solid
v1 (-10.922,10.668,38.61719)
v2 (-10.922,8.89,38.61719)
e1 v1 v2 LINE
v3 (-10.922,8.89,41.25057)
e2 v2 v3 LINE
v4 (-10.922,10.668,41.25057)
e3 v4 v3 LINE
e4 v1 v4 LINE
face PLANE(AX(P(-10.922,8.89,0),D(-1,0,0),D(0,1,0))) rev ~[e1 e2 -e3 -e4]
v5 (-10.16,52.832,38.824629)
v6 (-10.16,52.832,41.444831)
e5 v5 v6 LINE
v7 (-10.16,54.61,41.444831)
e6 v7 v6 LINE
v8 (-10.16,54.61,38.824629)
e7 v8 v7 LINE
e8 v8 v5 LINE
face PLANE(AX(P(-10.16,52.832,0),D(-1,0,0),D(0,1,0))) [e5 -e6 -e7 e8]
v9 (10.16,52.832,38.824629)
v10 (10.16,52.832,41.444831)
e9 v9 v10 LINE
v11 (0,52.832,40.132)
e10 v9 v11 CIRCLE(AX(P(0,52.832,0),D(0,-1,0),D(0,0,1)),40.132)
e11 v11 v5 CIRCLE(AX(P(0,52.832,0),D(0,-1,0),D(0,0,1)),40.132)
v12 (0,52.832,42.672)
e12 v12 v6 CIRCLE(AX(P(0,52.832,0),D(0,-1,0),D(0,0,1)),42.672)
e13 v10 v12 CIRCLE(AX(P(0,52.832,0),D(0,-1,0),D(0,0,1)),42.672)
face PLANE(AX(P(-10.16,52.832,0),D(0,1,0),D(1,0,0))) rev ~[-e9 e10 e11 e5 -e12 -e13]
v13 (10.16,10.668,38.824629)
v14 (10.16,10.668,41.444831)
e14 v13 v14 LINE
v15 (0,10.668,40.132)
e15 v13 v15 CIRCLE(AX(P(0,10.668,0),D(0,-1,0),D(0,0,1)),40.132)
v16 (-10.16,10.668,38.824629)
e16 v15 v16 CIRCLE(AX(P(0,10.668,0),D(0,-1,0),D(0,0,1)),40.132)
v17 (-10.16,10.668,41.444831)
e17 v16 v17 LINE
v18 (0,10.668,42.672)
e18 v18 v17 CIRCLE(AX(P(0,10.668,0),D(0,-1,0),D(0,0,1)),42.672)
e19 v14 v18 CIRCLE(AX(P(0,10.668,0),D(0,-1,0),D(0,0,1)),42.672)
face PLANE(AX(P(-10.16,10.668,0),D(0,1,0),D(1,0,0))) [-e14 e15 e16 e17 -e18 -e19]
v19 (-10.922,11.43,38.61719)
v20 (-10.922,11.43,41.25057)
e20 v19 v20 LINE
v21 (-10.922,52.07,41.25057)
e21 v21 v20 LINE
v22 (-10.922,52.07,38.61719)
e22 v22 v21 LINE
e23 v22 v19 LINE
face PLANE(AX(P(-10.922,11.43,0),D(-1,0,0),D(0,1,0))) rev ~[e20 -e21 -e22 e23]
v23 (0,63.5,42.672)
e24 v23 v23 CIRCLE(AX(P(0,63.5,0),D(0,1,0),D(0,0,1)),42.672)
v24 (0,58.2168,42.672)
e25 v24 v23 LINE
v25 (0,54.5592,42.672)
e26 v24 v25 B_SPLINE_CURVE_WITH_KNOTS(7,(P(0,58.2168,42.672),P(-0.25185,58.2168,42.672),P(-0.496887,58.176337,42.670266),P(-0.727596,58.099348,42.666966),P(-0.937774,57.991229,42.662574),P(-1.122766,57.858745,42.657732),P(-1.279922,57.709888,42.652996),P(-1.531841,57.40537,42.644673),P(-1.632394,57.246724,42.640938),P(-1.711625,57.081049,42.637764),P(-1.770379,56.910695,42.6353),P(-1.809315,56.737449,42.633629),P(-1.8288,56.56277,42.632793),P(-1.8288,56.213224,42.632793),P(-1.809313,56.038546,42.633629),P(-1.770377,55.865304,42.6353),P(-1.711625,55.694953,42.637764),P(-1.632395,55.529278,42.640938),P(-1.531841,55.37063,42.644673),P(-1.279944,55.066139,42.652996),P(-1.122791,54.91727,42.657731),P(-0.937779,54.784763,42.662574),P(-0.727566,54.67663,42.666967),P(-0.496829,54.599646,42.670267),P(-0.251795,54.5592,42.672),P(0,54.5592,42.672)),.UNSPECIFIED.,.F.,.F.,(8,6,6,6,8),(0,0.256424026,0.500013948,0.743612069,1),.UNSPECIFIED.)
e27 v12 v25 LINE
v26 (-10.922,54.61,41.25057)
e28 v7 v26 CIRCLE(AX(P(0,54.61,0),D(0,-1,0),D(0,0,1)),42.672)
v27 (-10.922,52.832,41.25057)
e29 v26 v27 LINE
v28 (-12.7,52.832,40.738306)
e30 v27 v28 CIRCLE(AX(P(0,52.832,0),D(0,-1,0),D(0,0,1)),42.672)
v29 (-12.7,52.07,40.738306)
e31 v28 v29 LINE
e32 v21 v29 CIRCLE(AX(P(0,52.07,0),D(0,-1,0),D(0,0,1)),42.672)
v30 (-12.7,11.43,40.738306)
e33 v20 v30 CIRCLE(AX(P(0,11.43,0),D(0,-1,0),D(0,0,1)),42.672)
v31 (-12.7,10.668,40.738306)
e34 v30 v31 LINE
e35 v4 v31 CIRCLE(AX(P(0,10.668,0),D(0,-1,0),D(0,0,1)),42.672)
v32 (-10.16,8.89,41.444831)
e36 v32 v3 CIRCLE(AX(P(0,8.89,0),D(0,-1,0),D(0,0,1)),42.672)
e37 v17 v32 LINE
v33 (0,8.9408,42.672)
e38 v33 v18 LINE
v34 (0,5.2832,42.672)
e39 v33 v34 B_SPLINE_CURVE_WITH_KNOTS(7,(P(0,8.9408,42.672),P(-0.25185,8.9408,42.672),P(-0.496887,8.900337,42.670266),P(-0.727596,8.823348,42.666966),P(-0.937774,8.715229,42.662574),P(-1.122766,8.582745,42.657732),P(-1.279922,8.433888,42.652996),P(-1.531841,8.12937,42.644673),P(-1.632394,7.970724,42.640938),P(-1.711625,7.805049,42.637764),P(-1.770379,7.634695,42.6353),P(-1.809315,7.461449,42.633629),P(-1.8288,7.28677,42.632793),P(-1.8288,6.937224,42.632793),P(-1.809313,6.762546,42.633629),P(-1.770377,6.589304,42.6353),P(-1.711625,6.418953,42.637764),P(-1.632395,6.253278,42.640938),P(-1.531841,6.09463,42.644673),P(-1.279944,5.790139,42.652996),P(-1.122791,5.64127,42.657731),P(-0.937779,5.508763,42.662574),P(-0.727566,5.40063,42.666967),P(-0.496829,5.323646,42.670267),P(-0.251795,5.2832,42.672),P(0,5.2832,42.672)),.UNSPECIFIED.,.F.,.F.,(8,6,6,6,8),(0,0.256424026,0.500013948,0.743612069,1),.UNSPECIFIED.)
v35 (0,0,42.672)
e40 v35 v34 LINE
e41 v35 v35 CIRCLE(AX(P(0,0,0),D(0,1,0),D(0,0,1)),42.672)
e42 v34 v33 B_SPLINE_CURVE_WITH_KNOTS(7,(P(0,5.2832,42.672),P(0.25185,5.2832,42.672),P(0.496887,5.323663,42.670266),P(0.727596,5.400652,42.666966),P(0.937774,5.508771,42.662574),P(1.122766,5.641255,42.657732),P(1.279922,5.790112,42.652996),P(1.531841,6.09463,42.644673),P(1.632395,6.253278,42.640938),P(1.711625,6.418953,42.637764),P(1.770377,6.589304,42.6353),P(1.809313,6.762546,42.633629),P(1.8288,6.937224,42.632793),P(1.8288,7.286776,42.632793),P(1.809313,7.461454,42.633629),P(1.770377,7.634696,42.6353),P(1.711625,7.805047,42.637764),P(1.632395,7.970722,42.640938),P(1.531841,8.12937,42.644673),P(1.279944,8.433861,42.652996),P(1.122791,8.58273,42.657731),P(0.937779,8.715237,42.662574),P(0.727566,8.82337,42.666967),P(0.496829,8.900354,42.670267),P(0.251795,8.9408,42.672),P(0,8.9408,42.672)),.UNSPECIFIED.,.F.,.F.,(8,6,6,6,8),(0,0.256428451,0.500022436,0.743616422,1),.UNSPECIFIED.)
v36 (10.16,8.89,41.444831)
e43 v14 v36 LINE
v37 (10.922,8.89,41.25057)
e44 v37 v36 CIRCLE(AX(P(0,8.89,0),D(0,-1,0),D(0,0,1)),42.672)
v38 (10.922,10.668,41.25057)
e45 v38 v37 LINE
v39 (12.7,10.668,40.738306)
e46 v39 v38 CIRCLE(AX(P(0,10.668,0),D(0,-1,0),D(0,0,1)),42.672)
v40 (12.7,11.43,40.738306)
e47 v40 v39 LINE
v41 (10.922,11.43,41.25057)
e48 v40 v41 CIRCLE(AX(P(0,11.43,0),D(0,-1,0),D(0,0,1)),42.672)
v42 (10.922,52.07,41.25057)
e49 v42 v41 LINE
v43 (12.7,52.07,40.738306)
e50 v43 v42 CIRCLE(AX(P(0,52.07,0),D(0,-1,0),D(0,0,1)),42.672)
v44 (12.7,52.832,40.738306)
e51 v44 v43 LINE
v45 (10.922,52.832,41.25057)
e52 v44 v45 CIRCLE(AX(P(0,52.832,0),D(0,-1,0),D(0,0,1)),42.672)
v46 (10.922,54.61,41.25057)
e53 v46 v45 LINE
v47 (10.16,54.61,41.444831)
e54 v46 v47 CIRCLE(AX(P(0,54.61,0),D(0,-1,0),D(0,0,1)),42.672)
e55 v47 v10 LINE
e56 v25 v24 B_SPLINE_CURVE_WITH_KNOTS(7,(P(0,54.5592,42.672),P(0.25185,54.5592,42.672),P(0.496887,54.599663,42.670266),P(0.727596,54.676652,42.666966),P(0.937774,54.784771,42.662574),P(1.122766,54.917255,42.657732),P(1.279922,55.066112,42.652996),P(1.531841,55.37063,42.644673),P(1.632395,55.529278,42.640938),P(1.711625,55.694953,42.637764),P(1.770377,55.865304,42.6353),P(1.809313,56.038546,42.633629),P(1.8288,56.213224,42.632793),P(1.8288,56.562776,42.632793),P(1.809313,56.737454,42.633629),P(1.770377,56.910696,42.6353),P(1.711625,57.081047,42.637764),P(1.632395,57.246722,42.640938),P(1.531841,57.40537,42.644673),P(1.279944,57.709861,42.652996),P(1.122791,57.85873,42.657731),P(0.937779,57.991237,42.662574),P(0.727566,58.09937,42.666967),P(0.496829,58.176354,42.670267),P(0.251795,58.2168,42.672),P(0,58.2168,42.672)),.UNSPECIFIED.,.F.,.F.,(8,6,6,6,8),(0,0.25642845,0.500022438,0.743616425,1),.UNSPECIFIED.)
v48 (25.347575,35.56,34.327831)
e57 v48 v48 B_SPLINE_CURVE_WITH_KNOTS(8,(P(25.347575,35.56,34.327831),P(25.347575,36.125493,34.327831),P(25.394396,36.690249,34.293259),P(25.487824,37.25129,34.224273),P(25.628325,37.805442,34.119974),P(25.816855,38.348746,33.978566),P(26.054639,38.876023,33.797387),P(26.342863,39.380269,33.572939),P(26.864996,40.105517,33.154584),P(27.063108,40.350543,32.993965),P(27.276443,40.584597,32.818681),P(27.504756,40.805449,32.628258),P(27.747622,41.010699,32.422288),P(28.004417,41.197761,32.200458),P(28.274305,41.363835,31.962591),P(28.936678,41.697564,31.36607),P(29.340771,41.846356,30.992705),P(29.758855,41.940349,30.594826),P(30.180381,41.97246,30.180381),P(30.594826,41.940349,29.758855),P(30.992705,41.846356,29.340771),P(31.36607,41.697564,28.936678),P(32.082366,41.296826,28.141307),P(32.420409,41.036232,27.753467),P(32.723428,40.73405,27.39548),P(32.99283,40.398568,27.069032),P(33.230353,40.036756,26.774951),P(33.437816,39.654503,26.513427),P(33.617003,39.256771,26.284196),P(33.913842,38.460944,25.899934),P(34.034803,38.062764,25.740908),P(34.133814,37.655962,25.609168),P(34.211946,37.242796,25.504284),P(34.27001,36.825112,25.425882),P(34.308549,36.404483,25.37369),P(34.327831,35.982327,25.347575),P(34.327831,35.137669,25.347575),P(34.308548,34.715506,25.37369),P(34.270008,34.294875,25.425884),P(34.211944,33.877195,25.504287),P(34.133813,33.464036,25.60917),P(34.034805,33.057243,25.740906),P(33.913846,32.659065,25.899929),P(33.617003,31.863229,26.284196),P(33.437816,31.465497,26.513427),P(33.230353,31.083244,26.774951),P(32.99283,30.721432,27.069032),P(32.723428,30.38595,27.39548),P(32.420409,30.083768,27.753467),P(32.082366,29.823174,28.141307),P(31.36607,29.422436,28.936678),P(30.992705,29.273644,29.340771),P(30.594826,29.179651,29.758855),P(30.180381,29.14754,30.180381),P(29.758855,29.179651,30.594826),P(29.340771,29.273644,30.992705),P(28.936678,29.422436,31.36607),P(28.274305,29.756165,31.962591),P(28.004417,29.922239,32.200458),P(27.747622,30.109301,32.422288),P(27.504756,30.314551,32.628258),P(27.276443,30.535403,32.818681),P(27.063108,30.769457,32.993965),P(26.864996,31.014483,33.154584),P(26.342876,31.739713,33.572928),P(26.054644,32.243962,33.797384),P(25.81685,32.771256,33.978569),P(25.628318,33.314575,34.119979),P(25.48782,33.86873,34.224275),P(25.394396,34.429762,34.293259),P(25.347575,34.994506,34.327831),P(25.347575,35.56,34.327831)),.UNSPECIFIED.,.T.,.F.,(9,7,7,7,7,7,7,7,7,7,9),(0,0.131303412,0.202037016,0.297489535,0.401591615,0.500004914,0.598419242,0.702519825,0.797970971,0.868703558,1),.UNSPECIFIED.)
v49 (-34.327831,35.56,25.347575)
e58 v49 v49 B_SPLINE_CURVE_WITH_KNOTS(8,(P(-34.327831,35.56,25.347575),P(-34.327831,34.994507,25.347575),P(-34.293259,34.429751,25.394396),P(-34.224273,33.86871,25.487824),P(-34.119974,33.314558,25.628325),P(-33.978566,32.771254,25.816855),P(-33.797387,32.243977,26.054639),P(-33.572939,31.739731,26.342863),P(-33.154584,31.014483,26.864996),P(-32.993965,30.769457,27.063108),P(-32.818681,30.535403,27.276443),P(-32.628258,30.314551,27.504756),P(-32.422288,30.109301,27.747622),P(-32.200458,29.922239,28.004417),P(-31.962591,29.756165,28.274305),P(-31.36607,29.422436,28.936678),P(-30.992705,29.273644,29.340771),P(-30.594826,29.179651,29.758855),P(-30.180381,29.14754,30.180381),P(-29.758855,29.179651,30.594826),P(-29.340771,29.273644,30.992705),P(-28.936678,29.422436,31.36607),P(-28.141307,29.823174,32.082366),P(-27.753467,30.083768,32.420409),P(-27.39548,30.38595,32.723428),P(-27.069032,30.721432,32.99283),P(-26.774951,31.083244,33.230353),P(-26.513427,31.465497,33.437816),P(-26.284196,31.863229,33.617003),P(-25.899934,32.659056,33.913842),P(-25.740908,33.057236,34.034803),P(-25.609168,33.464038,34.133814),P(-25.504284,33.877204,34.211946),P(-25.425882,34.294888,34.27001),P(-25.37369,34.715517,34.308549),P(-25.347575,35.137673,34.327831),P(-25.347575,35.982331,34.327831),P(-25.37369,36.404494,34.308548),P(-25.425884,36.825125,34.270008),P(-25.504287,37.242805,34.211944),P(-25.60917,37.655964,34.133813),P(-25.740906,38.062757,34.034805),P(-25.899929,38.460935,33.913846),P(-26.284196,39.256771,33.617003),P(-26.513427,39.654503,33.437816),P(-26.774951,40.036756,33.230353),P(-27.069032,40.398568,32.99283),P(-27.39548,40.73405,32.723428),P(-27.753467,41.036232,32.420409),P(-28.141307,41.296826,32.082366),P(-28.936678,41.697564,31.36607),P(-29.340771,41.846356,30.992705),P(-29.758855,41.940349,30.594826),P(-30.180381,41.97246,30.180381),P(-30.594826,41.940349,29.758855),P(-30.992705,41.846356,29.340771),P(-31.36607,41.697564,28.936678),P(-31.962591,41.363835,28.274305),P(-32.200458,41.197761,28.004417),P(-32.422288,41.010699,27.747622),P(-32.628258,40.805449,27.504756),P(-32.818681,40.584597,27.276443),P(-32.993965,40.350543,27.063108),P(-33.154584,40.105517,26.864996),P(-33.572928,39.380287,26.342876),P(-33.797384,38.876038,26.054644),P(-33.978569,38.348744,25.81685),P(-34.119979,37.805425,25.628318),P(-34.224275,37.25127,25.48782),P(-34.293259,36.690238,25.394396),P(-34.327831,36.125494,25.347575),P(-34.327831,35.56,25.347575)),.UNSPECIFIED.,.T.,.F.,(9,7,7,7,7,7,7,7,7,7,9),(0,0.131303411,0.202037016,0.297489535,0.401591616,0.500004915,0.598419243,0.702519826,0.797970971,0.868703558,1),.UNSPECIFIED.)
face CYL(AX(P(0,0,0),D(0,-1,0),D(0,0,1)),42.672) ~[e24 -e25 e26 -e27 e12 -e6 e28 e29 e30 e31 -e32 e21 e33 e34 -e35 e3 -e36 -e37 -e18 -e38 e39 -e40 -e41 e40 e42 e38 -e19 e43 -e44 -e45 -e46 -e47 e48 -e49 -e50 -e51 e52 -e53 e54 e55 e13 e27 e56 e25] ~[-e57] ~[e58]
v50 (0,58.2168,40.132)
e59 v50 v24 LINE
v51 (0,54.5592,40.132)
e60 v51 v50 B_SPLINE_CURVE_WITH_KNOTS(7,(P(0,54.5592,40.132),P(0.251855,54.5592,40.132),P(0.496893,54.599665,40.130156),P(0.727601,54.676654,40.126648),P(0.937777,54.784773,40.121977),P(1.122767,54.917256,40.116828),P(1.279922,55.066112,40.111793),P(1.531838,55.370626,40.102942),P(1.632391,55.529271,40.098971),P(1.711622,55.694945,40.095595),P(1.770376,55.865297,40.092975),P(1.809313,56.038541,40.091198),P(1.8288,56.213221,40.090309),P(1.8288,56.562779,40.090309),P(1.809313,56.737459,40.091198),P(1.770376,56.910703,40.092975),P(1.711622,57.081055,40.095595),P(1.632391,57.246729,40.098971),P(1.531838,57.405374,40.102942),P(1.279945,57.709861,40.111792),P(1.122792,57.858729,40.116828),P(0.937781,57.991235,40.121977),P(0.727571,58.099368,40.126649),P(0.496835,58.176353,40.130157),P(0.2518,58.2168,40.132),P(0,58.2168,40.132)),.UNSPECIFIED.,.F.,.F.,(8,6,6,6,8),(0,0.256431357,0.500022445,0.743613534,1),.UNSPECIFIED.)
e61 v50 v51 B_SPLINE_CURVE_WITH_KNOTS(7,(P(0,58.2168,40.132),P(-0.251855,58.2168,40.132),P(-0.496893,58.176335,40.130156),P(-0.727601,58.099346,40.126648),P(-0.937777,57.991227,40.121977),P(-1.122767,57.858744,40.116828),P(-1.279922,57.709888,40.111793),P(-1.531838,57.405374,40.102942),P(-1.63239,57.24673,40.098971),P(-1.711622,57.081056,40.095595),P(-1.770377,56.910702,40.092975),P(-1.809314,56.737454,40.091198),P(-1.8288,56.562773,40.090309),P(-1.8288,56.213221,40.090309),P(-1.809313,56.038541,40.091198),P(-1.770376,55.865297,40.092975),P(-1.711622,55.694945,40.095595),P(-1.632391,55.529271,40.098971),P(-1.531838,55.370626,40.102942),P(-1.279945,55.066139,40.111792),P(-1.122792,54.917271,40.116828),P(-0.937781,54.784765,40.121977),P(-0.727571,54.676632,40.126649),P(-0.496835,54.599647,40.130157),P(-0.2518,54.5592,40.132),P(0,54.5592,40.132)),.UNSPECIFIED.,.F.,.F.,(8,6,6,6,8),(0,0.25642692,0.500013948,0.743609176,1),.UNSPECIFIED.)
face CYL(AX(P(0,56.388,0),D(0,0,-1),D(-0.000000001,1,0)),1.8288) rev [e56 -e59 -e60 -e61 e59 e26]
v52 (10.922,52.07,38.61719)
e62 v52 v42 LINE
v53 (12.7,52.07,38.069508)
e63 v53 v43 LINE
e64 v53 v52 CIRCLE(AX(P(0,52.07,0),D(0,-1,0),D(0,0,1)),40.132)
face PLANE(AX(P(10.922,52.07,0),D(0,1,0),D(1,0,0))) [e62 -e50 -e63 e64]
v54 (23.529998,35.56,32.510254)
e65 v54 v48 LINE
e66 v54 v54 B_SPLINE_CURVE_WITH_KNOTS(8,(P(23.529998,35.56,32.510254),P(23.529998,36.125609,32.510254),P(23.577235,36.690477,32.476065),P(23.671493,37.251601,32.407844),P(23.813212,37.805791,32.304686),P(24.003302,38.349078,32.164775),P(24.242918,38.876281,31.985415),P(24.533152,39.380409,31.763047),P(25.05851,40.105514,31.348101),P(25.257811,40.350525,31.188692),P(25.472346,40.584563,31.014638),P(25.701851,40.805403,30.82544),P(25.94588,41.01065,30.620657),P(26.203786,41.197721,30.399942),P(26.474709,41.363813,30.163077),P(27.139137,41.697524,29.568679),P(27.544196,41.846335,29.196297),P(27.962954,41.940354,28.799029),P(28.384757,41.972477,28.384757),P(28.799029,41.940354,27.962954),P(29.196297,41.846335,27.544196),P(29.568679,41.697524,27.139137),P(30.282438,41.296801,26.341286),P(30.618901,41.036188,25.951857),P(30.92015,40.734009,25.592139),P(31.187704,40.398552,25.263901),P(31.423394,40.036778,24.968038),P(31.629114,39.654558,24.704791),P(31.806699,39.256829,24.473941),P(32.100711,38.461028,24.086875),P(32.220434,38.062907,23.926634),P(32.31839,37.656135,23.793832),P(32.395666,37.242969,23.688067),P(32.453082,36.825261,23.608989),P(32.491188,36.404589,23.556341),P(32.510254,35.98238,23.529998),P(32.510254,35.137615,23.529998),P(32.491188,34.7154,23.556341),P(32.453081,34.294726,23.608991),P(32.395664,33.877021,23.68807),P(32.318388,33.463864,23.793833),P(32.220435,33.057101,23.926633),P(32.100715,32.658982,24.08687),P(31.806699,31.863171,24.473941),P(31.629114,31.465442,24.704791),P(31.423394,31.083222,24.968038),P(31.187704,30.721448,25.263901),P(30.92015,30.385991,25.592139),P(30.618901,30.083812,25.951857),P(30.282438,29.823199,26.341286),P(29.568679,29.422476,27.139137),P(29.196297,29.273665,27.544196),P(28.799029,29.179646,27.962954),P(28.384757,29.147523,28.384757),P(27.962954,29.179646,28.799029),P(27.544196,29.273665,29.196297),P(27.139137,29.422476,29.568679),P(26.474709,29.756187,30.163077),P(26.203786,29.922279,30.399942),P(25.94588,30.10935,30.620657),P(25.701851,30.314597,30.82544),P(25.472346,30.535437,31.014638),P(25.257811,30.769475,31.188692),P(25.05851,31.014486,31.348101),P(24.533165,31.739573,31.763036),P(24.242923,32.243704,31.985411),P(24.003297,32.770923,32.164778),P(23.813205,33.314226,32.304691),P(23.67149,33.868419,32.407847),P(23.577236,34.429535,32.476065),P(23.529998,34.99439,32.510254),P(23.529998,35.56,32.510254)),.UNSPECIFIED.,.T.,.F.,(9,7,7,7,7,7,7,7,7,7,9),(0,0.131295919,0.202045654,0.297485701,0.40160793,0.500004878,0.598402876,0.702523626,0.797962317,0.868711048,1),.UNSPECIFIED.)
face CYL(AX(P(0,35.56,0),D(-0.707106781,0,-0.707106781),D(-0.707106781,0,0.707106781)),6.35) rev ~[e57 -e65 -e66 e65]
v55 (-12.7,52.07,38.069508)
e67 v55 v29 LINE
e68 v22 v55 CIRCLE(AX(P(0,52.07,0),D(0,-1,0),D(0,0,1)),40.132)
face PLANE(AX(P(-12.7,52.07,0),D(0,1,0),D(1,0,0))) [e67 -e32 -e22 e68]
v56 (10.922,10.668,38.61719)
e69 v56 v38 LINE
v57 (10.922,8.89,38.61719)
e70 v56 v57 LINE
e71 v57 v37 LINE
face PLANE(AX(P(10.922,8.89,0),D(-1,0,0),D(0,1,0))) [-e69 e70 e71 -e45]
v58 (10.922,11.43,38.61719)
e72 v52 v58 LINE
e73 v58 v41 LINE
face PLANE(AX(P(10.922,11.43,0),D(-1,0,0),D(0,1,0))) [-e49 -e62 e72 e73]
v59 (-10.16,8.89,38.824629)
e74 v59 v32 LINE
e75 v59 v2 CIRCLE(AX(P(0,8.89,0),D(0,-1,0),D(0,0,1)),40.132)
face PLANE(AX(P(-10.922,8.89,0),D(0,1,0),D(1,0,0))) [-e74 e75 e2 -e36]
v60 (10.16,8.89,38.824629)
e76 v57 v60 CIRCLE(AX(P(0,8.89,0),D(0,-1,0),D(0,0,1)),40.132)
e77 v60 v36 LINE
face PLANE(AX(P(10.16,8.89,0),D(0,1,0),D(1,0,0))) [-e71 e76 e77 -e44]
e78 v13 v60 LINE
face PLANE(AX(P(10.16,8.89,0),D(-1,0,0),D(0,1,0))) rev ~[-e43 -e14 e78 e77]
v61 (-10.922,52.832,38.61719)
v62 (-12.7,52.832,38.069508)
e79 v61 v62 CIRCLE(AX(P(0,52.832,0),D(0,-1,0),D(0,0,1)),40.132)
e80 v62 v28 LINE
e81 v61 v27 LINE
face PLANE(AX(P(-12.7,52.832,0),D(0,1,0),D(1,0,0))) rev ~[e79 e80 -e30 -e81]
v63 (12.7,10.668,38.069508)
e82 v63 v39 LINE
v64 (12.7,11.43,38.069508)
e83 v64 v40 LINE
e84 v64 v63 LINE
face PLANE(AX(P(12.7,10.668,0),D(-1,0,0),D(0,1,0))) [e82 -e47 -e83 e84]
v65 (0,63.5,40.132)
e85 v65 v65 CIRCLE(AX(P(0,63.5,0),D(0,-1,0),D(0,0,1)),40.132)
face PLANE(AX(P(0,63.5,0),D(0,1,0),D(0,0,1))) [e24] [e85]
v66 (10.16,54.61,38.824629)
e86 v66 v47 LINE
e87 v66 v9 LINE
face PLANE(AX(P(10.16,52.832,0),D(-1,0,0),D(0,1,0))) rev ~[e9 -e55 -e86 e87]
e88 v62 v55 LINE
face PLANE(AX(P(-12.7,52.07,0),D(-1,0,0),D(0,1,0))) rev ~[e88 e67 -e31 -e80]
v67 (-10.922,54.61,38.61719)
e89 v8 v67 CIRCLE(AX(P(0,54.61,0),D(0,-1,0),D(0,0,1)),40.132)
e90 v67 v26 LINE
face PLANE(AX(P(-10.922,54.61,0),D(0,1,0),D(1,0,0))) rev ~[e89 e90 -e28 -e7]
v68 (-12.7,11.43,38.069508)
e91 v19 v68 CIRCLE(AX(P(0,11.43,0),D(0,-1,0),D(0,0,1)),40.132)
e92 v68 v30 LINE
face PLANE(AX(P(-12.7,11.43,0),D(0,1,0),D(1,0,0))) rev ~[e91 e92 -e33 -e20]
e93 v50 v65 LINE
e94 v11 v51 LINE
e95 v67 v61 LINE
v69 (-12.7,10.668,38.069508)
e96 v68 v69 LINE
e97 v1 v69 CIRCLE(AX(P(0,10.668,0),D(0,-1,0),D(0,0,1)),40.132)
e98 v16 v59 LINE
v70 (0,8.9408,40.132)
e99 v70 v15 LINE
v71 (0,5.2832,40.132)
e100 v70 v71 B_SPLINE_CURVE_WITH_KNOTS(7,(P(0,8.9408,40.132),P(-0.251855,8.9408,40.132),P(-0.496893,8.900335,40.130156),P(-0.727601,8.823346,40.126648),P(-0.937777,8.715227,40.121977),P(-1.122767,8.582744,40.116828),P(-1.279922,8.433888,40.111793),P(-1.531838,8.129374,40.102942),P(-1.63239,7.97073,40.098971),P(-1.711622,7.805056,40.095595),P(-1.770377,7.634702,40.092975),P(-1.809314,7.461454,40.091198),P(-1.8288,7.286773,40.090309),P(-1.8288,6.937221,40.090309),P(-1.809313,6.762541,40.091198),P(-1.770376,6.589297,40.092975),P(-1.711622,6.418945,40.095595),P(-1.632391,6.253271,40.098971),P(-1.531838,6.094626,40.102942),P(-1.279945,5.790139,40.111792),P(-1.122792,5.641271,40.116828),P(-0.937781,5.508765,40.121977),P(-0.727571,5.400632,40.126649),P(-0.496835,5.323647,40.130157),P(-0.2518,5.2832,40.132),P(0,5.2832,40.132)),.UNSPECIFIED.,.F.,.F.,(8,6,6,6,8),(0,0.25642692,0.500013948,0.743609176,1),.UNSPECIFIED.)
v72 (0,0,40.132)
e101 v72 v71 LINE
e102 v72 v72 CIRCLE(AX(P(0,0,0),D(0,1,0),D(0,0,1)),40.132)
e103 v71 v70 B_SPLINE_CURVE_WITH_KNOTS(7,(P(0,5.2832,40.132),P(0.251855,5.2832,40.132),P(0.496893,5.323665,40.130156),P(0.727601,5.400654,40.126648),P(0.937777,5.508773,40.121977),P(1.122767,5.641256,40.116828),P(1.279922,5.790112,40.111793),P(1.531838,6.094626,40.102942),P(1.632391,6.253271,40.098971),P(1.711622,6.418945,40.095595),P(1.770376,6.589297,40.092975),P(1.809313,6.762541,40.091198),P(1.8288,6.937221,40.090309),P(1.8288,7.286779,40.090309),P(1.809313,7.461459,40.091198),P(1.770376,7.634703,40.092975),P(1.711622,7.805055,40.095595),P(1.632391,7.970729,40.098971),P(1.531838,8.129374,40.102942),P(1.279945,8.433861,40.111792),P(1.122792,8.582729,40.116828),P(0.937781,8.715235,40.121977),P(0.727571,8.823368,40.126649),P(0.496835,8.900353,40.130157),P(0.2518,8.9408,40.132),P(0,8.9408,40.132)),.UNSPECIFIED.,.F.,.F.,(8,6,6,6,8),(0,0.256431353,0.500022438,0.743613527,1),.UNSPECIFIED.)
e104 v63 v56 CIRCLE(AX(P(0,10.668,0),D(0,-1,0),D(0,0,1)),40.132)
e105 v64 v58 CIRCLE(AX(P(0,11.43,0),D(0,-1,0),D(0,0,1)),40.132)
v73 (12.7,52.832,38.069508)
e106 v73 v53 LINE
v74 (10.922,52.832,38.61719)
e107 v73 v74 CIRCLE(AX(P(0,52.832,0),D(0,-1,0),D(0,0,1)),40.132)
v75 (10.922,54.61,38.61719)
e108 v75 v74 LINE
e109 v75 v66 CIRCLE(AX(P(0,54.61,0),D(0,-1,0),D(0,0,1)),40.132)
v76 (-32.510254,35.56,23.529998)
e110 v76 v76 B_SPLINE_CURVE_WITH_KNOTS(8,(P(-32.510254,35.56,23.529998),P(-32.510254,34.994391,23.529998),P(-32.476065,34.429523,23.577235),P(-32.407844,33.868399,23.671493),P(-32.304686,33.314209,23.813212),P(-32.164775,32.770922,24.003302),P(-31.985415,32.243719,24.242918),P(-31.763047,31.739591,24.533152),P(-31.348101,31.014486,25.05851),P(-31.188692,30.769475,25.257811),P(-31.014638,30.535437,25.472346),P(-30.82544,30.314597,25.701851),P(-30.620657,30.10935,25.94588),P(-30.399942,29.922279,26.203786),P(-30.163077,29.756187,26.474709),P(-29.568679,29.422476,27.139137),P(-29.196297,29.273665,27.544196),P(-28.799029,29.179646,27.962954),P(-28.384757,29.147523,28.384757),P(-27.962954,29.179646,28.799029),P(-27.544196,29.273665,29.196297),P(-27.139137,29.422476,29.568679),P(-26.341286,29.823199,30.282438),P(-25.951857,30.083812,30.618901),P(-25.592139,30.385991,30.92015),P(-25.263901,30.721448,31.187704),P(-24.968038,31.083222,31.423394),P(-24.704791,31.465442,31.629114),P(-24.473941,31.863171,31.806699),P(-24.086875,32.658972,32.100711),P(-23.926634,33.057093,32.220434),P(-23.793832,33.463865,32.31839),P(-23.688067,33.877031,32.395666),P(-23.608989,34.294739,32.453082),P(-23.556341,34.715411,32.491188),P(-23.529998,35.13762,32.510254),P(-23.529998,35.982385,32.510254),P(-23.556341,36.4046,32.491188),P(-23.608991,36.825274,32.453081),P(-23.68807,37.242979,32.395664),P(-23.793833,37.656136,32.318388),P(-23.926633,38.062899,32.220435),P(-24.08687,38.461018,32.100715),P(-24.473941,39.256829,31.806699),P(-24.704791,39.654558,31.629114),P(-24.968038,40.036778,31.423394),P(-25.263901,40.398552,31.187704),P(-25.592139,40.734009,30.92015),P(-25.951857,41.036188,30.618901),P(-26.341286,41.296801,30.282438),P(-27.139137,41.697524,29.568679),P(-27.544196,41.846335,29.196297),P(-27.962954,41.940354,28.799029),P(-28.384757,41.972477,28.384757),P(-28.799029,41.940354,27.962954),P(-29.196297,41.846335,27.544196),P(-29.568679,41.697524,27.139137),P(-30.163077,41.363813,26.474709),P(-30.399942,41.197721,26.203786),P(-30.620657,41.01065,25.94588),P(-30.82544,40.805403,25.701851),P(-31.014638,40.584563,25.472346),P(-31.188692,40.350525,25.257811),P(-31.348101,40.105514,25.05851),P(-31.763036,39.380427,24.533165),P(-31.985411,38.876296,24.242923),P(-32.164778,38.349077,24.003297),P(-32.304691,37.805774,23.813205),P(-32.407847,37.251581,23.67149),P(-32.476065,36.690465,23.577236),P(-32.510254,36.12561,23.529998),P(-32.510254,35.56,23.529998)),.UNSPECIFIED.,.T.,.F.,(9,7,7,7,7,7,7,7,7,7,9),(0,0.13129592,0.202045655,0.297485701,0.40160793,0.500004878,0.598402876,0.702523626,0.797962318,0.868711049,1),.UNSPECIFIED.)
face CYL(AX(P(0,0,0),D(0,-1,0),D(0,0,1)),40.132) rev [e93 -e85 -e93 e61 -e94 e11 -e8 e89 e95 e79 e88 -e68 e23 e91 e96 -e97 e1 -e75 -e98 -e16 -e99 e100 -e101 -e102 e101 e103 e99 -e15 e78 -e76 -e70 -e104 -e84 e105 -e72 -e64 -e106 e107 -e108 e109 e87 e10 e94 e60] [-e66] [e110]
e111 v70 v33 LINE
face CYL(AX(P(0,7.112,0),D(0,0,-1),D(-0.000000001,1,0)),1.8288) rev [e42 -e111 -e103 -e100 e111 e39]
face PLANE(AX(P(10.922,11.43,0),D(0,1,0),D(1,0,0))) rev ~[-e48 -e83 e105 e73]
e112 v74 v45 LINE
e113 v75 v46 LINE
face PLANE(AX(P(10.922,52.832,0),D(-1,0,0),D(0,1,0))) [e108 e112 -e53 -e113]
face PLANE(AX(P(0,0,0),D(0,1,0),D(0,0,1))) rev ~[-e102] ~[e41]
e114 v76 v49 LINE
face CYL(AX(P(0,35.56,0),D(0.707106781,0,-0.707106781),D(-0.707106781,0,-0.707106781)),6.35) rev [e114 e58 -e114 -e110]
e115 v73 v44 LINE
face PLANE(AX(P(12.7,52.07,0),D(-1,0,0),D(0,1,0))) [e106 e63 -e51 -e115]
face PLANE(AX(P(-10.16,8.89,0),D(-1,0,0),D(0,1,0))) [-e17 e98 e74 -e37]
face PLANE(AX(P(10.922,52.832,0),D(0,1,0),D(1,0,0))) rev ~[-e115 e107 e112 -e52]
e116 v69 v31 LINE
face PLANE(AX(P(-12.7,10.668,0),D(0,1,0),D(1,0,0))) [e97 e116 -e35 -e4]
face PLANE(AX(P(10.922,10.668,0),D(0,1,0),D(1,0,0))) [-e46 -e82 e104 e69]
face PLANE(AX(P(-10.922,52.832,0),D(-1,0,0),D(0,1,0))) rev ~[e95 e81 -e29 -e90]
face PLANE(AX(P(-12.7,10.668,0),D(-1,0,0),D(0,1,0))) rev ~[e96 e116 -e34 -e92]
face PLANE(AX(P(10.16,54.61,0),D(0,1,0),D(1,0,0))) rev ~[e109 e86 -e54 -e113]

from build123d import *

# Parameters (mm, degrees)
SKETCH1_R           = 42.672
BOSS_EXTRUDE1_DEPTH = 63.5
SKETCH2_R           = 40.132
CUT_EXTRUDE1_DEPTH  = 88.601650487
SKETCH3_R           = 1.8288
CUT_EXTRUDE2_DEPTH  = 88.601650487
SKETCH4_R           = 6.35
CUT_EXTRUDE3_DEPTH  = 88.601650665
SKETCH5_R           = 6.35
CUT_EXTRUDE4_DEPTH  = 88.601650665


with BuildPart() as part:
    # Sketch1 → Boss-Extrude1 (new body)
    with BuildSketch(Plane(origin=(0, 0, 0), x_dir=(1, 0, 0), z_dir=(0, 1, 0))):
        Circle(SKETCH1_R)
    extrude(amount=BOSS_EXTRUDE1_DEPTH)

    # Sketch2 → Cut-Extrude1 (cut, through all)
    with BuildSketch(Plane(origin=(0, 0, 0), x_dir=(1, 0, 0), z_dir=(0, 1, 0))):
        Circle(SKETCH2_R)
    extrude(amount=CUT_EXTRUDE1_DEPTH, mode=Mode.SUBTRACT)

    # Sketch3 → Cut-Extrude2 (cut, through all)
    with BuildSketch(Plane.XY):
        Polygon((-12.7, 52.832), (-12.7, 52.07), (-10.922, 52.07), (-10.922, 11.43), (-12.7, 11.43), (-12.7, 10.668), (-10.922, 10.668), (-10.922, 8.89), (-10.16, 8.89), (-10.16, 10.668), (10.16, 10.668), (10.16, 8.89), (10.922, 8.89), (10.922, 10.668), (12.7, 10.668), (12.7, 11.43), (10.922, 11.43), (10.922, 52.07), (12.7, 52.07), (12.7, 52.832), (10.922, 52.832), (10.922, 54.61), (10.16, 54.61), (10.16, 52.832), (-10.16, 52.832), (-10.16, 54.61), (-10.922, 54.61), (-10.922, 52.832), align=None)
        with Locations((0, 56.388)):
            Circle(SKETCH3_R)
        with Locations((0, 7.112)):
            Circle(SKETCH3_R)
    extrude(amount=CUT_EXTRUDE2_DEPTH, mode=Mode.SUBTRACT)

    # Sketch4 → Cut-Extrude3 (cut, through all)
    with BuildSketch(Plane(origin=(0, 0, 0), x_dir=(0, -1, 0), z_dir=(-0.7071067811865488, 0, 0.7071067811865464))):
        with Locations((-35.56, 0)):
            Circle(SKETCH4_R)
    extrude(amount=CUT_EXTRUDE3_DEPTH, mode=Mode.SUBTRACT)

    # Sketch5 → Cut-Extrude4 (cut, through all)
    with BuildSketch(Plane(origin=(0, 0, 0), x_dir=(0, -1, 0), z_dir=(-0.7071067811865464, 0, -0.7071067811865488))):
        with Locations((-35.56, 0)):
            Circle(SKETCH5_R)
    extrude(amount=-CUT_EXTRUDE4_DEPTH, mode=Mode.SUBTRACT)


solid = part.part
